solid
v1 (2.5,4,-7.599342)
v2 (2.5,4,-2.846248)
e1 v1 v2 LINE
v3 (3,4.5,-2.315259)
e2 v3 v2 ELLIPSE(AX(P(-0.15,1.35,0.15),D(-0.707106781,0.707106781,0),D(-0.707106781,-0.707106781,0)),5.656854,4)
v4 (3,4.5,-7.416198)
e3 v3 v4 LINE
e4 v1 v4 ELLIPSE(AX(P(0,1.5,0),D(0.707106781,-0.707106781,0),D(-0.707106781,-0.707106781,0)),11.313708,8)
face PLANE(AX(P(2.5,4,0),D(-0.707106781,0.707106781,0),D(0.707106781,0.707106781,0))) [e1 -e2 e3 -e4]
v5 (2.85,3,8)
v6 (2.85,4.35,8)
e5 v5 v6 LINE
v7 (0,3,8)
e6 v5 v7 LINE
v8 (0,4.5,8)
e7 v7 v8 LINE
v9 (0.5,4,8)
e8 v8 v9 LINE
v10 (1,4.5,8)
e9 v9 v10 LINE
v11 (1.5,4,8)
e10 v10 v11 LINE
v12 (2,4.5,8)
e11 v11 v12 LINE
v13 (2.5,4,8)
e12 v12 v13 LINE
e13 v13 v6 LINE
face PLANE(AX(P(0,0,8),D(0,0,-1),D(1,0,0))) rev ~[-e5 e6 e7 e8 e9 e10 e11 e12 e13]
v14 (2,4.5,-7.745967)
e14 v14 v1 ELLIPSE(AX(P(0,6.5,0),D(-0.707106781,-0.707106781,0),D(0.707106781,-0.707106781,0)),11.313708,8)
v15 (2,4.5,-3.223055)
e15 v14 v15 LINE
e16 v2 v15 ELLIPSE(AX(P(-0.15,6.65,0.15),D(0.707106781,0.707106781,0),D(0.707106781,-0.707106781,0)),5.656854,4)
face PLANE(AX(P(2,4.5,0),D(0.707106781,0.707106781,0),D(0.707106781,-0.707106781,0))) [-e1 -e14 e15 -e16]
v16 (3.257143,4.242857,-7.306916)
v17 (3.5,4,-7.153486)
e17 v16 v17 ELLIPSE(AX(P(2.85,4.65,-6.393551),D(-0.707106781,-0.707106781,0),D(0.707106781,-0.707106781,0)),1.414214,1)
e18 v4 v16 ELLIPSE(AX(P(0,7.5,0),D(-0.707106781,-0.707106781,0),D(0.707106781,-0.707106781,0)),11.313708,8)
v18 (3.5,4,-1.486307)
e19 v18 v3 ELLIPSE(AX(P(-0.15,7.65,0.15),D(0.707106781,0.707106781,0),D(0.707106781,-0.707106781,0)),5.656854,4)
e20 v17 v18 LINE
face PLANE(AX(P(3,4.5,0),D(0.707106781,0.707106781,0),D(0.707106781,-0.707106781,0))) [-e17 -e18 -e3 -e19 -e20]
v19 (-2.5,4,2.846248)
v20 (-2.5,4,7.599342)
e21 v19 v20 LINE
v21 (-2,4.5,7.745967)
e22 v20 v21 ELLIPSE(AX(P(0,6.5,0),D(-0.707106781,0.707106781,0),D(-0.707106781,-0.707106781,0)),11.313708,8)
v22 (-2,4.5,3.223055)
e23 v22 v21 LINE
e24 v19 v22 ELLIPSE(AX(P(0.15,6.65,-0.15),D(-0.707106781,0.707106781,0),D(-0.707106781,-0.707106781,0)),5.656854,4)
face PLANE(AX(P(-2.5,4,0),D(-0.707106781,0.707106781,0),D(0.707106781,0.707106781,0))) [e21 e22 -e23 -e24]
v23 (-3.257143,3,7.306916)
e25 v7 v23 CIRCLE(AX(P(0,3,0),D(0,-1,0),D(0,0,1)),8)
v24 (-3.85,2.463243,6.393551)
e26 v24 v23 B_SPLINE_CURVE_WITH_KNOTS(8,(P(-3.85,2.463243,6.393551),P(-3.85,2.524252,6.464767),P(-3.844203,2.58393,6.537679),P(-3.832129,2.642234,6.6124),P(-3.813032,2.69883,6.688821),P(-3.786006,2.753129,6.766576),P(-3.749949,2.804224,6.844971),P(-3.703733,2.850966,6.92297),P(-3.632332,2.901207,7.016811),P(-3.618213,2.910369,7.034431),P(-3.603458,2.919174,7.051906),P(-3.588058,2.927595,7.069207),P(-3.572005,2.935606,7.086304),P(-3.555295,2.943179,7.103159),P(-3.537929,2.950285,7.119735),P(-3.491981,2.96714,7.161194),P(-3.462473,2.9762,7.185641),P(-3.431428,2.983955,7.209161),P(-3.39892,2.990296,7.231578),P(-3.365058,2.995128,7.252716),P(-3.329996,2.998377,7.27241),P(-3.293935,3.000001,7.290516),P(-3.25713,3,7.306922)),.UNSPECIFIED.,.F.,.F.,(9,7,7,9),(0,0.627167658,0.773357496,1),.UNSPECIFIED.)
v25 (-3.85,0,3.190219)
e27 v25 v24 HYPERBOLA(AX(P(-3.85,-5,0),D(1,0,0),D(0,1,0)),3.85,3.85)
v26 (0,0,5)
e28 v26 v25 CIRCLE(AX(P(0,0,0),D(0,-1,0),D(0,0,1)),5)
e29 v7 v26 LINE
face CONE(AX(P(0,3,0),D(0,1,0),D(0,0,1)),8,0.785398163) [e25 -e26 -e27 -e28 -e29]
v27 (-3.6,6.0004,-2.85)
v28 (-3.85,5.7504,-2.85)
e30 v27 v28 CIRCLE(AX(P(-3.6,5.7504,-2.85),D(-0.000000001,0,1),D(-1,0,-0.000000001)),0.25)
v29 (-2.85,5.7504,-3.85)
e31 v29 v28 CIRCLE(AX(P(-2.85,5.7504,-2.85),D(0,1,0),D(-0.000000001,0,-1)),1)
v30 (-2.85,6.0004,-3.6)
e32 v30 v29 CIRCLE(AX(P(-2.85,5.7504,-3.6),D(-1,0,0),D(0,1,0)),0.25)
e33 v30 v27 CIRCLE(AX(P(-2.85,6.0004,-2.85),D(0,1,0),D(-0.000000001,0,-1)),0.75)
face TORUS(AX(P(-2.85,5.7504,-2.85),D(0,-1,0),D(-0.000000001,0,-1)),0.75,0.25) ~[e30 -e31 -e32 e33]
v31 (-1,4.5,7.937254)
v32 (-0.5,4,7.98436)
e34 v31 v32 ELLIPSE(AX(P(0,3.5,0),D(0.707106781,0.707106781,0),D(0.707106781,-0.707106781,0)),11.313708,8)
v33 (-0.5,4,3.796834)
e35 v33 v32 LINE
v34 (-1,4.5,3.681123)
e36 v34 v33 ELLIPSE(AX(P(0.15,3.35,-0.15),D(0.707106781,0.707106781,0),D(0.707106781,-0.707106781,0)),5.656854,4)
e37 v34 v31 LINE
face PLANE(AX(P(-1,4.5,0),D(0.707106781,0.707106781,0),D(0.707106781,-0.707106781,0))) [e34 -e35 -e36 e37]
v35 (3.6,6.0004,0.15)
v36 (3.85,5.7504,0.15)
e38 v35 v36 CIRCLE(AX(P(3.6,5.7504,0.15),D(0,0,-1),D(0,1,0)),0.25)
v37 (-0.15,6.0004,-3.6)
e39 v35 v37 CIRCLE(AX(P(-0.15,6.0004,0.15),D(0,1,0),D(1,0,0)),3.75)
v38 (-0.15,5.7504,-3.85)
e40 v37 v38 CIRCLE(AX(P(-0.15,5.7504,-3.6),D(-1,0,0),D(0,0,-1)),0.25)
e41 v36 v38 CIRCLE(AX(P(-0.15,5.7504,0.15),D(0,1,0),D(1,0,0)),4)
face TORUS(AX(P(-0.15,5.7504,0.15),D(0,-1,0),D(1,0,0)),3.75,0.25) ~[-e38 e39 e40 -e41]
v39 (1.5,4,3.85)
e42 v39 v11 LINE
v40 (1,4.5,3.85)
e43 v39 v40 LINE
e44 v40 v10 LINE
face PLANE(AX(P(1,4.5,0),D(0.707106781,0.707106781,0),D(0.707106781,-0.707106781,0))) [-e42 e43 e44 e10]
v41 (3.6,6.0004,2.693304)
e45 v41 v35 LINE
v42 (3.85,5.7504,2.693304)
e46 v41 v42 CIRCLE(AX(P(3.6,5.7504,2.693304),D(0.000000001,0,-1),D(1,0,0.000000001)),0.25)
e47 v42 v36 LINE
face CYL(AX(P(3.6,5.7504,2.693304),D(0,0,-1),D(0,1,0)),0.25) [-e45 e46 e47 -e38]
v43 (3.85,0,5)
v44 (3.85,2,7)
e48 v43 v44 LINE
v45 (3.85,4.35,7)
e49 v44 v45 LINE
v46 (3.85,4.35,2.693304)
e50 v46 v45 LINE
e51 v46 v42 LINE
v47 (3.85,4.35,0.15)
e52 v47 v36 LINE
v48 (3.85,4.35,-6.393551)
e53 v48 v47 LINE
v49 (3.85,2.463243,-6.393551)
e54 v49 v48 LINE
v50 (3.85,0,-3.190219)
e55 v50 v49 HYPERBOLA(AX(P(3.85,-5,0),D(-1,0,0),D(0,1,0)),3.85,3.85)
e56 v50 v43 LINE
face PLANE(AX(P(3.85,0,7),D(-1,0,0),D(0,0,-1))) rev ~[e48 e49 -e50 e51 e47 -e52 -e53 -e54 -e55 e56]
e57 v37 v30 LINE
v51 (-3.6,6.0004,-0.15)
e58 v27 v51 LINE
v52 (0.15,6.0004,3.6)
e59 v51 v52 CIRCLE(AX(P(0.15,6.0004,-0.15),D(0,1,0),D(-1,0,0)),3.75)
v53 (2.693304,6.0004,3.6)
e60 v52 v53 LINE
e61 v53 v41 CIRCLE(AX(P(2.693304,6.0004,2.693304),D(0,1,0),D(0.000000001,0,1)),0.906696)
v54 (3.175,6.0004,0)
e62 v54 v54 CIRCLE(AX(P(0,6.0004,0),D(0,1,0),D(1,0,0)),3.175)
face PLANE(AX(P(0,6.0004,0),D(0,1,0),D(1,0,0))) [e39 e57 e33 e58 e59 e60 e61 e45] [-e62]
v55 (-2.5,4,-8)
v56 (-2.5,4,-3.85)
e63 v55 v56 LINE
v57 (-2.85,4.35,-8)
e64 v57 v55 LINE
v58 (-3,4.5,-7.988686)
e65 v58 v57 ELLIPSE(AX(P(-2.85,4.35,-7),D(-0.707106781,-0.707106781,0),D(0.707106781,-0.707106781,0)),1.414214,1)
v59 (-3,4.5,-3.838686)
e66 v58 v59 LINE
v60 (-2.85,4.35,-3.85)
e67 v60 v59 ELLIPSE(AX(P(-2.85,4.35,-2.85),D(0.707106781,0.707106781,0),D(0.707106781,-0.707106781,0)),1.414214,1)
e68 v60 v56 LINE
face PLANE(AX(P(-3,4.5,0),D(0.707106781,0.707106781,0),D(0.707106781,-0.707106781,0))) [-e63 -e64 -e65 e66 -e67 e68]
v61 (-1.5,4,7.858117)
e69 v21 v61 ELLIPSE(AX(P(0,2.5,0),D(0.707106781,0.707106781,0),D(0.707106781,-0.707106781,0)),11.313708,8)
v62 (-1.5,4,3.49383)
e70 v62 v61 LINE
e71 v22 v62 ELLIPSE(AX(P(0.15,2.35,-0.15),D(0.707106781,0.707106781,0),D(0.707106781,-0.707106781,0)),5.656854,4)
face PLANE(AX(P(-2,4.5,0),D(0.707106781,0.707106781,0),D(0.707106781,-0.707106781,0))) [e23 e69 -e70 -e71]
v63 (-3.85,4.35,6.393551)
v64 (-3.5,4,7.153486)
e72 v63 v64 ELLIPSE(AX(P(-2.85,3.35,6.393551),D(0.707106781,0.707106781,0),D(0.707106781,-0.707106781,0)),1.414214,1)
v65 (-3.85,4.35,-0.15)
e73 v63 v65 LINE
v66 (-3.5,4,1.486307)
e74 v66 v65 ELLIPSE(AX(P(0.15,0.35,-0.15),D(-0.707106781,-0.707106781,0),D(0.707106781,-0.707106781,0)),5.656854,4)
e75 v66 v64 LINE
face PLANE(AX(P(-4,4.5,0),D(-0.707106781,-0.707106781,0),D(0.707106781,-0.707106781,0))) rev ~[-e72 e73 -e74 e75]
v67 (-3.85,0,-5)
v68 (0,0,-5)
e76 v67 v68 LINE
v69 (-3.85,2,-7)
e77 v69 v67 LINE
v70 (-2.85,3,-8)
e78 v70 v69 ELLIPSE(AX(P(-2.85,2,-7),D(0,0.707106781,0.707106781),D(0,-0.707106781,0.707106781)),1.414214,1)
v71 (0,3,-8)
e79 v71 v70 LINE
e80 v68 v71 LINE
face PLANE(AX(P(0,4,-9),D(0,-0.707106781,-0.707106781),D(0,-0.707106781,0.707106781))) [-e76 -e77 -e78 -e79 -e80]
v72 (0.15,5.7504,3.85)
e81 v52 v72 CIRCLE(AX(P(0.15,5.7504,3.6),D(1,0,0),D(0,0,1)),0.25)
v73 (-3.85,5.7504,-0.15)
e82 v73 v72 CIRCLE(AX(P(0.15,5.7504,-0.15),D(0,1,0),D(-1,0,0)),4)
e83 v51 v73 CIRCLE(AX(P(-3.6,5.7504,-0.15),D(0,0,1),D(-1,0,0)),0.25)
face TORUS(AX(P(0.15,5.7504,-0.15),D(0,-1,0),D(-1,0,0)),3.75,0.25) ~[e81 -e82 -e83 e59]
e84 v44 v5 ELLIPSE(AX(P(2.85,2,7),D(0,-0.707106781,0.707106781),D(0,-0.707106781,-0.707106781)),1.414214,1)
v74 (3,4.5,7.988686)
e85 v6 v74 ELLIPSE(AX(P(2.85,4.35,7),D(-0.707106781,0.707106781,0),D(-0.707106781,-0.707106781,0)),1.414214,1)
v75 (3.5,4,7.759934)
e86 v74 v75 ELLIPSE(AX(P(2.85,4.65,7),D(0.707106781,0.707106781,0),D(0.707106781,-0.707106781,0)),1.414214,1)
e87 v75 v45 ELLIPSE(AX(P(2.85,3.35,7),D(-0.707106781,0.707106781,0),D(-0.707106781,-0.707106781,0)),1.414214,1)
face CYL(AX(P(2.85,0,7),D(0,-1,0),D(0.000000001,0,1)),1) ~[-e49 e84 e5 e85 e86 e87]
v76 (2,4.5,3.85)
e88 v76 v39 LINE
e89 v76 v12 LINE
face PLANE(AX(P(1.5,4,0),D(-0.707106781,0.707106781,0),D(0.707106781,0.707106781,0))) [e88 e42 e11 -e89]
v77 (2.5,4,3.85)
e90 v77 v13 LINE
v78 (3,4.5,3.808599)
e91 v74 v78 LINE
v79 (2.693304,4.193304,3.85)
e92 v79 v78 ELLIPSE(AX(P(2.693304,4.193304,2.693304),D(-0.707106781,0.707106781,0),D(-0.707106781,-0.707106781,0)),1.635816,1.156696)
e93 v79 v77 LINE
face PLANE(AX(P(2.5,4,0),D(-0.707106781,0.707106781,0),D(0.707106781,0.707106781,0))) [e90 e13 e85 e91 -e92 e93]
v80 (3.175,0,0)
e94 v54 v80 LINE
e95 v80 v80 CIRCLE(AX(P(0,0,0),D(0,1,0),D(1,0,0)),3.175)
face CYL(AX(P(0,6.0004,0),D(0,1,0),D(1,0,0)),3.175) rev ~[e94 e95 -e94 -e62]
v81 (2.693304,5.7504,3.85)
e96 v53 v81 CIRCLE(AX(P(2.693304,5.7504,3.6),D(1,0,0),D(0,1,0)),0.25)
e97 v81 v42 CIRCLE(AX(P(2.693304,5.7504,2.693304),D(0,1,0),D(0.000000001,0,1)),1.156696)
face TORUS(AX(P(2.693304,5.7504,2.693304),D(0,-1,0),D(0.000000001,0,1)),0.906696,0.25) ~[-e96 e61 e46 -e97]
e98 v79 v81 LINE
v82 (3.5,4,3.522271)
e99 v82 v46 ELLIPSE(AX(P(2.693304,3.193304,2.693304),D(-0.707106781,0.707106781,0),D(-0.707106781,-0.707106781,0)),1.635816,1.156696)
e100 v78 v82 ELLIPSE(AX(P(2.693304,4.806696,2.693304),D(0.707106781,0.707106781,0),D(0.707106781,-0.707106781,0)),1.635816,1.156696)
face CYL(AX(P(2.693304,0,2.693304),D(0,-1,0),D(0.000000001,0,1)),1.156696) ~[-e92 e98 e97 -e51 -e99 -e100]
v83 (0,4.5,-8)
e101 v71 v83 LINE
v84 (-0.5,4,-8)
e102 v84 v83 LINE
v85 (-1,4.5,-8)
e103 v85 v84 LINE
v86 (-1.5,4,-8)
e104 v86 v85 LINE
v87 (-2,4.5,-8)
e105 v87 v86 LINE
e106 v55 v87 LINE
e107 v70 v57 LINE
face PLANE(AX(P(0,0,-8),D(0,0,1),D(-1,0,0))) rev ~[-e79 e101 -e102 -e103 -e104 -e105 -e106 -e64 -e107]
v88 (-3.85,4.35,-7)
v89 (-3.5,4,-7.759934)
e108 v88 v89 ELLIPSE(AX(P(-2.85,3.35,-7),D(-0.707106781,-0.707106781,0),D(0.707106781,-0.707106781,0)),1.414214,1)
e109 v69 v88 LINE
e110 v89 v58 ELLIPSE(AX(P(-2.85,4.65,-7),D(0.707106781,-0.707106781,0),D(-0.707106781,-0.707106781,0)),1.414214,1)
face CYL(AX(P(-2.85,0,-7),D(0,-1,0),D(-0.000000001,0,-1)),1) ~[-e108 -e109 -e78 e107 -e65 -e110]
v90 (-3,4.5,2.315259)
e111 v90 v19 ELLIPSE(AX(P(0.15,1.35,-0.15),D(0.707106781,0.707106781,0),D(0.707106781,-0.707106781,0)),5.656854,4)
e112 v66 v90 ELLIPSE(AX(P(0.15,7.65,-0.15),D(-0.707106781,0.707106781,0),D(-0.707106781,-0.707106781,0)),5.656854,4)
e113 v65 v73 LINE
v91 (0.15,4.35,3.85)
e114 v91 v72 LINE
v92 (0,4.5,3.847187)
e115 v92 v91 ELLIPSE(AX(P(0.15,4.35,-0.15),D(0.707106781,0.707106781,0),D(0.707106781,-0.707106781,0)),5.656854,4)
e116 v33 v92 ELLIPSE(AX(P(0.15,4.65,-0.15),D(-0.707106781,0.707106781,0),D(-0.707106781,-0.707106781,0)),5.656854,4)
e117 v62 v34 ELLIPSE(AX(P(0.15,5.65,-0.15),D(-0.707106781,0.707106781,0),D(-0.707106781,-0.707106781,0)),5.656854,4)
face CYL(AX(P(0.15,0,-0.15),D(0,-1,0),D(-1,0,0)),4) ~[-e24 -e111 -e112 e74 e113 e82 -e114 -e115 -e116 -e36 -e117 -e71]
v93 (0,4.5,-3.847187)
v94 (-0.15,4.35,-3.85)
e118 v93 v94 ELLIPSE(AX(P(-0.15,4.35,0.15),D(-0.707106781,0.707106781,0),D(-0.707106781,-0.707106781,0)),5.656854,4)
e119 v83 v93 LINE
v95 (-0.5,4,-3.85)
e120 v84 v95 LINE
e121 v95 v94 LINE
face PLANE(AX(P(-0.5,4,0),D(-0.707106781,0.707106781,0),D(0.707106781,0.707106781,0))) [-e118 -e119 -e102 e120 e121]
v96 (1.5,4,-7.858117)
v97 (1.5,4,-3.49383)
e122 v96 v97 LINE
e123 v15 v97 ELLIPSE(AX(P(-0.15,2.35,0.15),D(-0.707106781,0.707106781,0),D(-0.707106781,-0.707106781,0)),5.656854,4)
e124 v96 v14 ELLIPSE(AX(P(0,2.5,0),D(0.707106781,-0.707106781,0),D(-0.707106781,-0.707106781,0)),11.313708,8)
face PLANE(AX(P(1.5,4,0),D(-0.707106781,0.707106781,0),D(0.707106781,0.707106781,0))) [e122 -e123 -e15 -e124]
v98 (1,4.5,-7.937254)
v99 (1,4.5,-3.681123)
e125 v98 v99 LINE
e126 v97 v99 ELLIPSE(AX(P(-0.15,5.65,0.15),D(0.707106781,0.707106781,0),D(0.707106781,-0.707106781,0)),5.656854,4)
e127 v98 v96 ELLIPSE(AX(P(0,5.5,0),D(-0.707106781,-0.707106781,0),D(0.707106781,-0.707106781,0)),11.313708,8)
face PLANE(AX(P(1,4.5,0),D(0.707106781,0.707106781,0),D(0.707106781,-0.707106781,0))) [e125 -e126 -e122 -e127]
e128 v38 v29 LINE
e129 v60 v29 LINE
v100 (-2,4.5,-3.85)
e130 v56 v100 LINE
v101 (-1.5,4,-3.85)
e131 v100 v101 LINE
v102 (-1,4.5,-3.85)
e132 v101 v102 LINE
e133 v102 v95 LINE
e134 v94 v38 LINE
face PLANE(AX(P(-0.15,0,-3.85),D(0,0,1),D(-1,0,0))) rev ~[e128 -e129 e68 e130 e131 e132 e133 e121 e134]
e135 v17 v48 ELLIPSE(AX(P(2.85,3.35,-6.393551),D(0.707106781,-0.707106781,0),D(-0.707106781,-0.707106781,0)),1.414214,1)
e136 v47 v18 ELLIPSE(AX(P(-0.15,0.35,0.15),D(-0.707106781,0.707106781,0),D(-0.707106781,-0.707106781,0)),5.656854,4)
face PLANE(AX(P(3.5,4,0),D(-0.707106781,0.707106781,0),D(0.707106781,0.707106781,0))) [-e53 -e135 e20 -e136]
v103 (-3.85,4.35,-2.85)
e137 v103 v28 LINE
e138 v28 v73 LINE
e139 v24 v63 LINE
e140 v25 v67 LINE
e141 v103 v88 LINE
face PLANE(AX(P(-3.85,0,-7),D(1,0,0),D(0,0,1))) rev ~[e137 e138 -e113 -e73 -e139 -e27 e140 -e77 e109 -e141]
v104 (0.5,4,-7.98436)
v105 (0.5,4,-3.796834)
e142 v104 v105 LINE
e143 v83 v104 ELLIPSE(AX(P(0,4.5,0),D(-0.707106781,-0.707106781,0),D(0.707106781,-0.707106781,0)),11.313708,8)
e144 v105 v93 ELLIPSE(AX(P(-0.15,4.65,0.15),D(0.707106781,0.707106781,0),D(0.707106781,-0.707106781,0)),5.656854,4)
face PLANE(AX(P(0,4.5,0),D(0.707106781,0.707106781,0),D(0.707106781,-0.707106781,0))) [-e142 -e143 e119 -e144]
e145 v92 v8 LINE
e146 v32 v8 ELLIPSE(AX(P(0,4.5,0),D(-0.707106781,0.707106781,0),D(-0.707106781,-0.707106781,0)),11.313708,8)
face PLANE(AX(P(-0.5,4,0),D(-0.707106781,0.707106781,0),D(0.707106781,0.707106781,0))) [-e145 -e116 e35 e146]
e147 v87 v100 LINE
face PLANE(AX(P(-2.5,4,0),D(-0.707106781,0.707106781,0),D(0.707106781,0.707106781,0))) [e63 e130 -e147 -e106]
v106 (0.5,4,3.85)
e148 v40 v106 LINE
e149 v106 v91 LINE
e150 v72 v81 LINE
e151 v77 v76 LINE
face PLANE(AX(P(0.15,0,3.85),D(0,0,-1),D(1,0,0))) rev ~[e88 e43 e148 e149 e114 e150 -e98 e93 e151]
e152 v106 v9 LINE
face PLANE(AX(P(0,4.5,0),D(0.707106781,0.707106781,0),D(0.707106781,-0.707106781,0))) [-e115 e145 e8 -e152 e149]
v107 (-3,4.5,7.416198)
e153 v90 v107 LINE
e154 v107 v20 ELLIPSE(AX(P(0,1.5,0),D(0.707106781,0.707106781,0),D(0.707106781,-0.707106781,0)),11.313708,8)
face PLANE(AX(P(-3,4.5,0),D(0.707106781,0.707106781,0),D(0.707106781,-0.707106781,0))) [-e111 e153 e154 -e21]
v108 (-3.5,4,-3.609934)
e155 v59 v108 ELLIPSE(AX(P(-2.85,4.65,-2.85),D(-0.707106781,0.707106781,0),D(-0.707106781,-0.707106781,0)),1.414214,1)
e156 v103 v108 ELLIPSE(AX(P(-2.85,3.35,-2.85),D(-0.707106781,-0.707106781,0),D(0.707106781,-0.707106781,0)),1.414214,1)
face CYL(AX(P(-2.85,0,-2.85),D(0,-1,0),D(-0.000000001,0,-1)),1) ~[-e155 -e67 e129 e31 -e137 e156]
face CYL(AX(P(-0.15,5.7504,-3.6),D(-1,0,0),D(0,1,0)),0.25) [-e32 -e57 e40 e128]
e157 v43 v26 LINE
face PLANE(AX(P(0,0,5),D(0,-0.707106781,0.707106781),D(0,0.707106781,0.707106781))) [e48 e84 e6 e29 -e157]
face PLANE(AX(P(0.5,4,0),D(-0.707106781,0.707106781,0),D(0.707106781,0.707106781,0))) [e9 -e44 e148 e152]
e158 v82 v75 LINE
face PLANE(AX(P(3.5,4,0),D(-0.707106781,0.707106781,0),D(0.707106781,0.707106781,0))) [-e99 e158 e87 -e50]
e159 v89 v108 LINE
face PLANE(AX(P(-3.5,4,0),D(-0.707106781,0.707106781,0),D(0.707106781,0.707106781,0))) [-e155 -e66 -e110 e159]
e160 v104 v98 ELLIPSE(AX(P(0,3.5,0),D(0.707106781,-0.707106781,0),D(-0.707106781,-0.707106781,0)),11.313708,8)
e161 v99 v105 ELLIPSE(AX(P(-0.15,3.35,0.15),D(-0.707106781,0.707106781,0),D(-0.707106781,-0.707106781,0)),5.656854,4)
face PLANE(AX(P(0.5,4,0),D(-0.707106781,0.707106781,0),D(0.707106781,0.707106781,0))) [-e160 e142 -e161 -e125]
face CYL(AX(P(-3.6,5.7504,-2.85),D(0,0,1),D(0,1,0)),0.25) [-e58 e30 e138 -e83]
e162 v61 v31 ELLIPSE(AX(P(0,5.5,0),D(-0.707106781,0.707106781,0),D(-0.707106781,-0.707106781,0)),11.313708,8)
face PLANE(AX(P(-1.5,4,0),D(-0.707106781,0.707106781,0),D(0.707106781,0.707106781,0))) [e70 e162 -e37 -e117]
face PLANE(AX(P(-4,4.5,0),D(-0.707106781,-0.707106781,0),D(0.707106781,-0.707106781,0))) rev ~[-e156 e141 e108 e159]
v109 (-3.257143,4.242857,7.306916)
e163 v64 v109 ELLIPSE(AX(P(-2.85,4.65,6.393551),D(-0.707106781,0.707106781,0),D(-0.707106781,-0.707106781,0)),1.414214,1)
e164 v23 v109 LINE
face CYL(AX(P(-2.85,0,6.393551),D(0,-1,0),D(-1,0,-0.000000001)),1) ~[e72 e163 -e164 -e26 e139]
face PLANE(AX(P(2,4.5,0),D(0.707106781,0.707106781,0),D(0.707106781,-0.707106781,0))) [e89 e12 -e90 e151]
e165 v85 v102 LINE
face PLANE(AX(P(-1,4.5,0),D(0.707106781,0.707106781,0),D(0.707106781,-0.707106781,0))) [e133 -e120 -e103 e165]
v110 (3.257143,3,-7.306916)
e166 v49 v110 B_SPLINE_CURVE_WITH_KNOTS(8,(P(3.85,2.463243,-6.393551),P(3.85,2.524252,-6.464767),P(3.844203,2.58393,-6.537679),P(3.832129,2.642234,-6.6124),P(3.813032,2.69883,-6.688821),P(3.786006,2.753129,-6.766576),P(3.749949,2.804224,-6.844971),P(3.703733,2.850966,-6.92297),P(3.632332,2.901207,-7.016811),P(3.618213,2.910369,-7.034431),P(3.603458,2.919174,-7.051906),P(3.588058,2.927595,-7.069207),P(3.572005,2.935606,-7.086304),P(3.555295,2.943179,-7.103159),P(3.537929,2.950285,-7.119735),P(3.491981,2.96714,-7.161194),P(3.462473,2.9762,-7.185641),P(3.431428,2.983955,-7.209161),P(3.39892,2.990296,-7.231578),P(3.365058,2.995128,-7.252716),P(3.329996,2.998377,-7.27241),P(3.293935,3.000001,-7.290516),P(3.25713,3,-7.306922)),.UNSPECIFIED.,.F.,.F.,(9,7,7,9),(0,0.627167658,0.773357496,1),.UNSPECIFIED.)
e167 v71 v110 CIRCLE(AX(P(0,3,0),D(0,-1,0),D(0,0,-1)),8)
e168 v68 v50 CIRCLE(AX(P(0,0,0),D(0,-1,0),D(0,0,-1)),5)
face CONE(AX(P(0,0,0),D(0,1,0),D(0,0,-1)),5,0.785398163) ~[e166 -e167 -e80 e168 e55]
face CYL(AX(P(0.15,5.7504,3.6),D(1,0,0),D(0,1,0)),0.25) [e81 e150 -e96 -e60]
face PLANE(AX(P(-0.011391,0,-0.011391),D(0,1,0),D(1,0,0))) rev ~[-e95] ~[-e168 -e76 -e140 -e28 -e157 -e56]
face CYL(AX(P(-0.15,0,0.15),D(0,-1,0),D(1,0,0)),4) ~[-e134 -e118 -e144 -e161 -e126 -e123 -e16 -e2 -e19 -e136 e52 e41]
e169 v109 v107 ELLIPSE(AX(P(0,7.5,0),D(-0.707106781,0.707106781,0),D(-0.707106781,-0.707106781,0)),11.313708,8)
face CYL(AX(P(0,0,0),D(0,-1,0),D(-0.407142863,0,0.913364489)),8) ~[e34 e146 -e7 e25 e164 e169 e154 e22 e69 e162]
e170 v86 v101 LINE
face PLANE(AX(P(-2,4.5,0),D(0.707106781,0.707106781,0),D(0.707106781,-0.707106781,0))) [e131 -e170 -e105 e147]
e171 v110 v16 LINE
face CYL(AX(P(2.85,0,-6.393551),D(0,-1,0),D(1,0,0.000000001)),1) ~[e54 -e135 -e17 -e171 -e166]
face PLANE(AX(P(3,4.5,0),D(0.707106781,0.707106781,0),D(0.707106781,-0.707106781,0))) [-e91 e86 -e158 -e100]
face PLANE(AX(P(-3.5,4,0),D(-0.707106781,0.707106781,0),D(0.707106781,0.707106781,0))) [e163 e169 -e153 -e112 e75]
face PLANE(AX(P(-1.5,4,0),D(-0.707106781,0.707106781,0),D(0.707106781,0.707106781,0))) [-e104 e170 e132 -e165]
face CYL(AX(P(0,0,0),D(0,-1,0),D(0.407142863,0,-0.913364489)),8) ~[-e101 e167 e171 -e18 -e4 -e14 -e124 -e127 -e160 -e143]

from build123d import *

# Parameters (mm, degrees)
EXTRUDE1_DEPTH          = 4.5
CUT_EXTRUDE1_DEPTH      = 8
CUT_EXTRUDE1_DEPTH_BACK = 8
EXTRUDE2_DEPTH          = 6.00039994
CUT_EXTRUDE2_DEPTH      = 4
CUT_EXTRUDE2_DEPTH_BACK = 4
CUT_REVOLVE1_ANGLE      = 60
CUT_REVOLVE2_ANGLE      = 60
SKETCH9_R               = 2.48793
CUT_EXTRUDE3_DEPTH      = 7.00040004
FILLET4_R               = 0.25
SKETCH10_R              = 2.48793
EXTRUDE3_DEPTH          = 6.0004
SKETCH12_R              = 3.175
CUT_EXTRUDE4_DEPTH      = 7.00040004


with BuildPart() as part:
    # Sketch1 → Extrude1 (new body)
    with BuildSketch(Plane(origin=(0, 0, 0), x_dir=(1, 0, 0), z_dir=(0, 1, 0))):
        with BuildLine():
            Line((0, -8), (2.85, -8))
            ThreePointArc((2.85, -8), (3.557106781, -7.707106781), (3.85, -7))
            Line((3.85, -7), (3.85, 6.393551439))
            ThreePointArc((3.85, 6.393551439), (3.688791661, 6.938003962), (3.2571429, 7.306915911))
            ThreePointArc((3.2571429, 7.306915911), (1.66503344, 7.824810774), (0, 8))
            Line((0, 8), (-2.85, 8))
            ThreePointArc((-2.85, 8), (-3.557106781, 7.707106781), (-3.85, 7))
            Line((-3.85, 7), (-3.85, -6.393551439))
            ThreePointArc((-3.85, -6.393551439), (-3.688791661, -6.938003962), (-3.2571429, -7.306915911))
            ThreePointArc((-3.2571429, -7.306915911), (-1.66503344, -7.824810774), (0, -8))
        make_face()
    extrude(amount=EXTRUDE1_DEPTH)

    # Sketch2 → Cut-Extrude1 (cut, two sides)
    with BuildSketch(Plane.XY) as cut_extrude1_sk:
        Polygon((-4, 4.5), (-3.5, 4), (-3, 4.5), (-2.5, 4), (-2, 4.5), (-1.5, 4), (-1, 4.5), (-0.5, 4), (0, 4.5), (0.5, 4), (1, 4.5), (1.5, 4), (2, 4.5), (2.5, 4), (3, 4.5), (3.5, 4), (4, 4.5), (4, 5.5), (-4, 5.5), align=None)
    extrude(amount=CUT_EXTRUDE1_DEPTH, mode=Mode.SUBTRACT)
    extrude(cut_extrude1_sk.sketch, amount=-CUT_EXTRUDE1_DEPTH_BACK, mode=Mode.SUBTRACT)

    # Sketch3 → Extrude2 (add)
    with BuildSketch(Plane(origin=(0, 0, 0), x_dir=(1, 0, 0), z_dir=(0, 1, 0))):
        with BuildLine():
            Line((0.15, -3.85), (2.693303618, -3.85))
            ThreePointArc((2.693303618, -3.85), (3.511211473, -3.511211473), (3.85, -2.693303618))
            Line((3.85, -2.693303618), (3.85, -0.15))
            ThreePointArc((3.85, -0.15), (2.678427125, 2.678427125), (-0.15, 3.85))
            Line((-0.15, 3.85), (-2.85, 3.85))
            ThreePointArc((-2.85, 3.85), (-3.557106781, 3.557106781), (-3.85, 2.85))
            Line((-3.85, 2.85), (-3.85, 0.15))
            ThreePointArc((-3.85, 0.15), (-2.678427125, -2.678427125), (0.15, -3.85))
        make_face()
    extrude(amount=EXTRUDE2_DEPTH)

    # Sketch4 → Cut-Extrude2 (cut, two sides)
    with BuildSketch(Plane(origin=(0, 0, 0), x_dir=(0, 0, -1), z_dir=(1, 0, 0))) as cut_extrude2_sk:
        Polygon((-9, -1), (9, -1), (9, 4), (5, 0), (-5, 0), (-9, 4), align=None)
    extrude(amount=CUT_EXTRUDE2_DEPTH, mode=Mode.SUBTRACT)
    extrude(cut_extrude2_sk.sketch, amount=-CUT_EXTRUDE2_DEPTH_BACK, mode=Mode.SUBTRACT)

    # Sketch5 → Cut-Revolve1 (revolve, cut)
    with BuildSketch(Plane(origin=(0, 0, 0), x_dir=(0, 0, -1), z_dir=(1, 0, 0))):
        Polygon((0, -1), (-9, -1), (-9, 3), (-8, 3), (-5, 0), (0, 0), align=None)
    revolve(axis=Axis((0, 3, 0), (0, -1, 0)), revolution_arc=CUT_REVOLVE1_ANGLE, mode=Mode.SUBTRACT)

    # Sketch6 → Cut-Revolve2 (revolve, cut)
    with BuildSketch(Plane(origin=(0, 0, 0), x_dir=(0, 0, -1), z_dir=(1, 0, 0))):
        Polygon((0, 0), (5, 0), (8, 3), (9, 3), (9, -1), (0, -1), align=None)
    revolve(axis=Axis((0, -1, 0), (0, -1, 0)), revolution_arc=CUT_REVOLVE2_ANGLE, mode=Mode.SUBTRACT)

    # Sketch9 → Cut-Extrude3 (cut, through all)
    with BuildSketch(Plane(origin=(0, 6.00039994, 0), x_dir=(1, 0, 0), z_dir=(0, 1, 0))):
        Circle(SKETCH9_R)
    extrude(amount=-CUT_EXTRUDE3_DEPTH, mode=Mode.SUBTRACT)

    # Fillet4
    fillet4_edges = [part.edges().sort_by_distance(p)[0] for p in [
        (-2.678427125, 6.00039994, 2.678427125),
        (1.421651809, 6.00039994, 3.85),
        (3.511211473, 6.00039994, 3.511211473),
        (3.85, 6.00039994, 1.421651809),
        (2.678427125, 6.00039994, -2.678427125),
        (-1.5, 6.00039994, -3.85),
        (-3.557106781, 6.00039994, -3.557106781),
        (-3.85, 6.00039994, -1.5),
    ]]
    fillet(fillet4_edges, radius=FILLET4_R)

    # Sketch10 → Extrude3 (add)
    with BuildSketch(Plane(origin=(0, 6.00039994, 0), x_dir=(1, 0, 0), z_dir=(0, 1, 0))):
        Circle(SKETCH10_R)
    extrude(amount=-EXTRUDE3_DEPTH)

    # Sketch12 → Cut-Extrude4 (cut, through all)
    with BuildSketch(Plane(origin=(0, 6.00039994, 0), x_dir=(1, 0, 0), z_dir=(0, 1, 0))):
        Circle(SKETCH12_R)
    extrude(amount=-CUT_EXTRUDE4_DEPTH, mode=Mode.SUBTRACT)


solid = part.part
